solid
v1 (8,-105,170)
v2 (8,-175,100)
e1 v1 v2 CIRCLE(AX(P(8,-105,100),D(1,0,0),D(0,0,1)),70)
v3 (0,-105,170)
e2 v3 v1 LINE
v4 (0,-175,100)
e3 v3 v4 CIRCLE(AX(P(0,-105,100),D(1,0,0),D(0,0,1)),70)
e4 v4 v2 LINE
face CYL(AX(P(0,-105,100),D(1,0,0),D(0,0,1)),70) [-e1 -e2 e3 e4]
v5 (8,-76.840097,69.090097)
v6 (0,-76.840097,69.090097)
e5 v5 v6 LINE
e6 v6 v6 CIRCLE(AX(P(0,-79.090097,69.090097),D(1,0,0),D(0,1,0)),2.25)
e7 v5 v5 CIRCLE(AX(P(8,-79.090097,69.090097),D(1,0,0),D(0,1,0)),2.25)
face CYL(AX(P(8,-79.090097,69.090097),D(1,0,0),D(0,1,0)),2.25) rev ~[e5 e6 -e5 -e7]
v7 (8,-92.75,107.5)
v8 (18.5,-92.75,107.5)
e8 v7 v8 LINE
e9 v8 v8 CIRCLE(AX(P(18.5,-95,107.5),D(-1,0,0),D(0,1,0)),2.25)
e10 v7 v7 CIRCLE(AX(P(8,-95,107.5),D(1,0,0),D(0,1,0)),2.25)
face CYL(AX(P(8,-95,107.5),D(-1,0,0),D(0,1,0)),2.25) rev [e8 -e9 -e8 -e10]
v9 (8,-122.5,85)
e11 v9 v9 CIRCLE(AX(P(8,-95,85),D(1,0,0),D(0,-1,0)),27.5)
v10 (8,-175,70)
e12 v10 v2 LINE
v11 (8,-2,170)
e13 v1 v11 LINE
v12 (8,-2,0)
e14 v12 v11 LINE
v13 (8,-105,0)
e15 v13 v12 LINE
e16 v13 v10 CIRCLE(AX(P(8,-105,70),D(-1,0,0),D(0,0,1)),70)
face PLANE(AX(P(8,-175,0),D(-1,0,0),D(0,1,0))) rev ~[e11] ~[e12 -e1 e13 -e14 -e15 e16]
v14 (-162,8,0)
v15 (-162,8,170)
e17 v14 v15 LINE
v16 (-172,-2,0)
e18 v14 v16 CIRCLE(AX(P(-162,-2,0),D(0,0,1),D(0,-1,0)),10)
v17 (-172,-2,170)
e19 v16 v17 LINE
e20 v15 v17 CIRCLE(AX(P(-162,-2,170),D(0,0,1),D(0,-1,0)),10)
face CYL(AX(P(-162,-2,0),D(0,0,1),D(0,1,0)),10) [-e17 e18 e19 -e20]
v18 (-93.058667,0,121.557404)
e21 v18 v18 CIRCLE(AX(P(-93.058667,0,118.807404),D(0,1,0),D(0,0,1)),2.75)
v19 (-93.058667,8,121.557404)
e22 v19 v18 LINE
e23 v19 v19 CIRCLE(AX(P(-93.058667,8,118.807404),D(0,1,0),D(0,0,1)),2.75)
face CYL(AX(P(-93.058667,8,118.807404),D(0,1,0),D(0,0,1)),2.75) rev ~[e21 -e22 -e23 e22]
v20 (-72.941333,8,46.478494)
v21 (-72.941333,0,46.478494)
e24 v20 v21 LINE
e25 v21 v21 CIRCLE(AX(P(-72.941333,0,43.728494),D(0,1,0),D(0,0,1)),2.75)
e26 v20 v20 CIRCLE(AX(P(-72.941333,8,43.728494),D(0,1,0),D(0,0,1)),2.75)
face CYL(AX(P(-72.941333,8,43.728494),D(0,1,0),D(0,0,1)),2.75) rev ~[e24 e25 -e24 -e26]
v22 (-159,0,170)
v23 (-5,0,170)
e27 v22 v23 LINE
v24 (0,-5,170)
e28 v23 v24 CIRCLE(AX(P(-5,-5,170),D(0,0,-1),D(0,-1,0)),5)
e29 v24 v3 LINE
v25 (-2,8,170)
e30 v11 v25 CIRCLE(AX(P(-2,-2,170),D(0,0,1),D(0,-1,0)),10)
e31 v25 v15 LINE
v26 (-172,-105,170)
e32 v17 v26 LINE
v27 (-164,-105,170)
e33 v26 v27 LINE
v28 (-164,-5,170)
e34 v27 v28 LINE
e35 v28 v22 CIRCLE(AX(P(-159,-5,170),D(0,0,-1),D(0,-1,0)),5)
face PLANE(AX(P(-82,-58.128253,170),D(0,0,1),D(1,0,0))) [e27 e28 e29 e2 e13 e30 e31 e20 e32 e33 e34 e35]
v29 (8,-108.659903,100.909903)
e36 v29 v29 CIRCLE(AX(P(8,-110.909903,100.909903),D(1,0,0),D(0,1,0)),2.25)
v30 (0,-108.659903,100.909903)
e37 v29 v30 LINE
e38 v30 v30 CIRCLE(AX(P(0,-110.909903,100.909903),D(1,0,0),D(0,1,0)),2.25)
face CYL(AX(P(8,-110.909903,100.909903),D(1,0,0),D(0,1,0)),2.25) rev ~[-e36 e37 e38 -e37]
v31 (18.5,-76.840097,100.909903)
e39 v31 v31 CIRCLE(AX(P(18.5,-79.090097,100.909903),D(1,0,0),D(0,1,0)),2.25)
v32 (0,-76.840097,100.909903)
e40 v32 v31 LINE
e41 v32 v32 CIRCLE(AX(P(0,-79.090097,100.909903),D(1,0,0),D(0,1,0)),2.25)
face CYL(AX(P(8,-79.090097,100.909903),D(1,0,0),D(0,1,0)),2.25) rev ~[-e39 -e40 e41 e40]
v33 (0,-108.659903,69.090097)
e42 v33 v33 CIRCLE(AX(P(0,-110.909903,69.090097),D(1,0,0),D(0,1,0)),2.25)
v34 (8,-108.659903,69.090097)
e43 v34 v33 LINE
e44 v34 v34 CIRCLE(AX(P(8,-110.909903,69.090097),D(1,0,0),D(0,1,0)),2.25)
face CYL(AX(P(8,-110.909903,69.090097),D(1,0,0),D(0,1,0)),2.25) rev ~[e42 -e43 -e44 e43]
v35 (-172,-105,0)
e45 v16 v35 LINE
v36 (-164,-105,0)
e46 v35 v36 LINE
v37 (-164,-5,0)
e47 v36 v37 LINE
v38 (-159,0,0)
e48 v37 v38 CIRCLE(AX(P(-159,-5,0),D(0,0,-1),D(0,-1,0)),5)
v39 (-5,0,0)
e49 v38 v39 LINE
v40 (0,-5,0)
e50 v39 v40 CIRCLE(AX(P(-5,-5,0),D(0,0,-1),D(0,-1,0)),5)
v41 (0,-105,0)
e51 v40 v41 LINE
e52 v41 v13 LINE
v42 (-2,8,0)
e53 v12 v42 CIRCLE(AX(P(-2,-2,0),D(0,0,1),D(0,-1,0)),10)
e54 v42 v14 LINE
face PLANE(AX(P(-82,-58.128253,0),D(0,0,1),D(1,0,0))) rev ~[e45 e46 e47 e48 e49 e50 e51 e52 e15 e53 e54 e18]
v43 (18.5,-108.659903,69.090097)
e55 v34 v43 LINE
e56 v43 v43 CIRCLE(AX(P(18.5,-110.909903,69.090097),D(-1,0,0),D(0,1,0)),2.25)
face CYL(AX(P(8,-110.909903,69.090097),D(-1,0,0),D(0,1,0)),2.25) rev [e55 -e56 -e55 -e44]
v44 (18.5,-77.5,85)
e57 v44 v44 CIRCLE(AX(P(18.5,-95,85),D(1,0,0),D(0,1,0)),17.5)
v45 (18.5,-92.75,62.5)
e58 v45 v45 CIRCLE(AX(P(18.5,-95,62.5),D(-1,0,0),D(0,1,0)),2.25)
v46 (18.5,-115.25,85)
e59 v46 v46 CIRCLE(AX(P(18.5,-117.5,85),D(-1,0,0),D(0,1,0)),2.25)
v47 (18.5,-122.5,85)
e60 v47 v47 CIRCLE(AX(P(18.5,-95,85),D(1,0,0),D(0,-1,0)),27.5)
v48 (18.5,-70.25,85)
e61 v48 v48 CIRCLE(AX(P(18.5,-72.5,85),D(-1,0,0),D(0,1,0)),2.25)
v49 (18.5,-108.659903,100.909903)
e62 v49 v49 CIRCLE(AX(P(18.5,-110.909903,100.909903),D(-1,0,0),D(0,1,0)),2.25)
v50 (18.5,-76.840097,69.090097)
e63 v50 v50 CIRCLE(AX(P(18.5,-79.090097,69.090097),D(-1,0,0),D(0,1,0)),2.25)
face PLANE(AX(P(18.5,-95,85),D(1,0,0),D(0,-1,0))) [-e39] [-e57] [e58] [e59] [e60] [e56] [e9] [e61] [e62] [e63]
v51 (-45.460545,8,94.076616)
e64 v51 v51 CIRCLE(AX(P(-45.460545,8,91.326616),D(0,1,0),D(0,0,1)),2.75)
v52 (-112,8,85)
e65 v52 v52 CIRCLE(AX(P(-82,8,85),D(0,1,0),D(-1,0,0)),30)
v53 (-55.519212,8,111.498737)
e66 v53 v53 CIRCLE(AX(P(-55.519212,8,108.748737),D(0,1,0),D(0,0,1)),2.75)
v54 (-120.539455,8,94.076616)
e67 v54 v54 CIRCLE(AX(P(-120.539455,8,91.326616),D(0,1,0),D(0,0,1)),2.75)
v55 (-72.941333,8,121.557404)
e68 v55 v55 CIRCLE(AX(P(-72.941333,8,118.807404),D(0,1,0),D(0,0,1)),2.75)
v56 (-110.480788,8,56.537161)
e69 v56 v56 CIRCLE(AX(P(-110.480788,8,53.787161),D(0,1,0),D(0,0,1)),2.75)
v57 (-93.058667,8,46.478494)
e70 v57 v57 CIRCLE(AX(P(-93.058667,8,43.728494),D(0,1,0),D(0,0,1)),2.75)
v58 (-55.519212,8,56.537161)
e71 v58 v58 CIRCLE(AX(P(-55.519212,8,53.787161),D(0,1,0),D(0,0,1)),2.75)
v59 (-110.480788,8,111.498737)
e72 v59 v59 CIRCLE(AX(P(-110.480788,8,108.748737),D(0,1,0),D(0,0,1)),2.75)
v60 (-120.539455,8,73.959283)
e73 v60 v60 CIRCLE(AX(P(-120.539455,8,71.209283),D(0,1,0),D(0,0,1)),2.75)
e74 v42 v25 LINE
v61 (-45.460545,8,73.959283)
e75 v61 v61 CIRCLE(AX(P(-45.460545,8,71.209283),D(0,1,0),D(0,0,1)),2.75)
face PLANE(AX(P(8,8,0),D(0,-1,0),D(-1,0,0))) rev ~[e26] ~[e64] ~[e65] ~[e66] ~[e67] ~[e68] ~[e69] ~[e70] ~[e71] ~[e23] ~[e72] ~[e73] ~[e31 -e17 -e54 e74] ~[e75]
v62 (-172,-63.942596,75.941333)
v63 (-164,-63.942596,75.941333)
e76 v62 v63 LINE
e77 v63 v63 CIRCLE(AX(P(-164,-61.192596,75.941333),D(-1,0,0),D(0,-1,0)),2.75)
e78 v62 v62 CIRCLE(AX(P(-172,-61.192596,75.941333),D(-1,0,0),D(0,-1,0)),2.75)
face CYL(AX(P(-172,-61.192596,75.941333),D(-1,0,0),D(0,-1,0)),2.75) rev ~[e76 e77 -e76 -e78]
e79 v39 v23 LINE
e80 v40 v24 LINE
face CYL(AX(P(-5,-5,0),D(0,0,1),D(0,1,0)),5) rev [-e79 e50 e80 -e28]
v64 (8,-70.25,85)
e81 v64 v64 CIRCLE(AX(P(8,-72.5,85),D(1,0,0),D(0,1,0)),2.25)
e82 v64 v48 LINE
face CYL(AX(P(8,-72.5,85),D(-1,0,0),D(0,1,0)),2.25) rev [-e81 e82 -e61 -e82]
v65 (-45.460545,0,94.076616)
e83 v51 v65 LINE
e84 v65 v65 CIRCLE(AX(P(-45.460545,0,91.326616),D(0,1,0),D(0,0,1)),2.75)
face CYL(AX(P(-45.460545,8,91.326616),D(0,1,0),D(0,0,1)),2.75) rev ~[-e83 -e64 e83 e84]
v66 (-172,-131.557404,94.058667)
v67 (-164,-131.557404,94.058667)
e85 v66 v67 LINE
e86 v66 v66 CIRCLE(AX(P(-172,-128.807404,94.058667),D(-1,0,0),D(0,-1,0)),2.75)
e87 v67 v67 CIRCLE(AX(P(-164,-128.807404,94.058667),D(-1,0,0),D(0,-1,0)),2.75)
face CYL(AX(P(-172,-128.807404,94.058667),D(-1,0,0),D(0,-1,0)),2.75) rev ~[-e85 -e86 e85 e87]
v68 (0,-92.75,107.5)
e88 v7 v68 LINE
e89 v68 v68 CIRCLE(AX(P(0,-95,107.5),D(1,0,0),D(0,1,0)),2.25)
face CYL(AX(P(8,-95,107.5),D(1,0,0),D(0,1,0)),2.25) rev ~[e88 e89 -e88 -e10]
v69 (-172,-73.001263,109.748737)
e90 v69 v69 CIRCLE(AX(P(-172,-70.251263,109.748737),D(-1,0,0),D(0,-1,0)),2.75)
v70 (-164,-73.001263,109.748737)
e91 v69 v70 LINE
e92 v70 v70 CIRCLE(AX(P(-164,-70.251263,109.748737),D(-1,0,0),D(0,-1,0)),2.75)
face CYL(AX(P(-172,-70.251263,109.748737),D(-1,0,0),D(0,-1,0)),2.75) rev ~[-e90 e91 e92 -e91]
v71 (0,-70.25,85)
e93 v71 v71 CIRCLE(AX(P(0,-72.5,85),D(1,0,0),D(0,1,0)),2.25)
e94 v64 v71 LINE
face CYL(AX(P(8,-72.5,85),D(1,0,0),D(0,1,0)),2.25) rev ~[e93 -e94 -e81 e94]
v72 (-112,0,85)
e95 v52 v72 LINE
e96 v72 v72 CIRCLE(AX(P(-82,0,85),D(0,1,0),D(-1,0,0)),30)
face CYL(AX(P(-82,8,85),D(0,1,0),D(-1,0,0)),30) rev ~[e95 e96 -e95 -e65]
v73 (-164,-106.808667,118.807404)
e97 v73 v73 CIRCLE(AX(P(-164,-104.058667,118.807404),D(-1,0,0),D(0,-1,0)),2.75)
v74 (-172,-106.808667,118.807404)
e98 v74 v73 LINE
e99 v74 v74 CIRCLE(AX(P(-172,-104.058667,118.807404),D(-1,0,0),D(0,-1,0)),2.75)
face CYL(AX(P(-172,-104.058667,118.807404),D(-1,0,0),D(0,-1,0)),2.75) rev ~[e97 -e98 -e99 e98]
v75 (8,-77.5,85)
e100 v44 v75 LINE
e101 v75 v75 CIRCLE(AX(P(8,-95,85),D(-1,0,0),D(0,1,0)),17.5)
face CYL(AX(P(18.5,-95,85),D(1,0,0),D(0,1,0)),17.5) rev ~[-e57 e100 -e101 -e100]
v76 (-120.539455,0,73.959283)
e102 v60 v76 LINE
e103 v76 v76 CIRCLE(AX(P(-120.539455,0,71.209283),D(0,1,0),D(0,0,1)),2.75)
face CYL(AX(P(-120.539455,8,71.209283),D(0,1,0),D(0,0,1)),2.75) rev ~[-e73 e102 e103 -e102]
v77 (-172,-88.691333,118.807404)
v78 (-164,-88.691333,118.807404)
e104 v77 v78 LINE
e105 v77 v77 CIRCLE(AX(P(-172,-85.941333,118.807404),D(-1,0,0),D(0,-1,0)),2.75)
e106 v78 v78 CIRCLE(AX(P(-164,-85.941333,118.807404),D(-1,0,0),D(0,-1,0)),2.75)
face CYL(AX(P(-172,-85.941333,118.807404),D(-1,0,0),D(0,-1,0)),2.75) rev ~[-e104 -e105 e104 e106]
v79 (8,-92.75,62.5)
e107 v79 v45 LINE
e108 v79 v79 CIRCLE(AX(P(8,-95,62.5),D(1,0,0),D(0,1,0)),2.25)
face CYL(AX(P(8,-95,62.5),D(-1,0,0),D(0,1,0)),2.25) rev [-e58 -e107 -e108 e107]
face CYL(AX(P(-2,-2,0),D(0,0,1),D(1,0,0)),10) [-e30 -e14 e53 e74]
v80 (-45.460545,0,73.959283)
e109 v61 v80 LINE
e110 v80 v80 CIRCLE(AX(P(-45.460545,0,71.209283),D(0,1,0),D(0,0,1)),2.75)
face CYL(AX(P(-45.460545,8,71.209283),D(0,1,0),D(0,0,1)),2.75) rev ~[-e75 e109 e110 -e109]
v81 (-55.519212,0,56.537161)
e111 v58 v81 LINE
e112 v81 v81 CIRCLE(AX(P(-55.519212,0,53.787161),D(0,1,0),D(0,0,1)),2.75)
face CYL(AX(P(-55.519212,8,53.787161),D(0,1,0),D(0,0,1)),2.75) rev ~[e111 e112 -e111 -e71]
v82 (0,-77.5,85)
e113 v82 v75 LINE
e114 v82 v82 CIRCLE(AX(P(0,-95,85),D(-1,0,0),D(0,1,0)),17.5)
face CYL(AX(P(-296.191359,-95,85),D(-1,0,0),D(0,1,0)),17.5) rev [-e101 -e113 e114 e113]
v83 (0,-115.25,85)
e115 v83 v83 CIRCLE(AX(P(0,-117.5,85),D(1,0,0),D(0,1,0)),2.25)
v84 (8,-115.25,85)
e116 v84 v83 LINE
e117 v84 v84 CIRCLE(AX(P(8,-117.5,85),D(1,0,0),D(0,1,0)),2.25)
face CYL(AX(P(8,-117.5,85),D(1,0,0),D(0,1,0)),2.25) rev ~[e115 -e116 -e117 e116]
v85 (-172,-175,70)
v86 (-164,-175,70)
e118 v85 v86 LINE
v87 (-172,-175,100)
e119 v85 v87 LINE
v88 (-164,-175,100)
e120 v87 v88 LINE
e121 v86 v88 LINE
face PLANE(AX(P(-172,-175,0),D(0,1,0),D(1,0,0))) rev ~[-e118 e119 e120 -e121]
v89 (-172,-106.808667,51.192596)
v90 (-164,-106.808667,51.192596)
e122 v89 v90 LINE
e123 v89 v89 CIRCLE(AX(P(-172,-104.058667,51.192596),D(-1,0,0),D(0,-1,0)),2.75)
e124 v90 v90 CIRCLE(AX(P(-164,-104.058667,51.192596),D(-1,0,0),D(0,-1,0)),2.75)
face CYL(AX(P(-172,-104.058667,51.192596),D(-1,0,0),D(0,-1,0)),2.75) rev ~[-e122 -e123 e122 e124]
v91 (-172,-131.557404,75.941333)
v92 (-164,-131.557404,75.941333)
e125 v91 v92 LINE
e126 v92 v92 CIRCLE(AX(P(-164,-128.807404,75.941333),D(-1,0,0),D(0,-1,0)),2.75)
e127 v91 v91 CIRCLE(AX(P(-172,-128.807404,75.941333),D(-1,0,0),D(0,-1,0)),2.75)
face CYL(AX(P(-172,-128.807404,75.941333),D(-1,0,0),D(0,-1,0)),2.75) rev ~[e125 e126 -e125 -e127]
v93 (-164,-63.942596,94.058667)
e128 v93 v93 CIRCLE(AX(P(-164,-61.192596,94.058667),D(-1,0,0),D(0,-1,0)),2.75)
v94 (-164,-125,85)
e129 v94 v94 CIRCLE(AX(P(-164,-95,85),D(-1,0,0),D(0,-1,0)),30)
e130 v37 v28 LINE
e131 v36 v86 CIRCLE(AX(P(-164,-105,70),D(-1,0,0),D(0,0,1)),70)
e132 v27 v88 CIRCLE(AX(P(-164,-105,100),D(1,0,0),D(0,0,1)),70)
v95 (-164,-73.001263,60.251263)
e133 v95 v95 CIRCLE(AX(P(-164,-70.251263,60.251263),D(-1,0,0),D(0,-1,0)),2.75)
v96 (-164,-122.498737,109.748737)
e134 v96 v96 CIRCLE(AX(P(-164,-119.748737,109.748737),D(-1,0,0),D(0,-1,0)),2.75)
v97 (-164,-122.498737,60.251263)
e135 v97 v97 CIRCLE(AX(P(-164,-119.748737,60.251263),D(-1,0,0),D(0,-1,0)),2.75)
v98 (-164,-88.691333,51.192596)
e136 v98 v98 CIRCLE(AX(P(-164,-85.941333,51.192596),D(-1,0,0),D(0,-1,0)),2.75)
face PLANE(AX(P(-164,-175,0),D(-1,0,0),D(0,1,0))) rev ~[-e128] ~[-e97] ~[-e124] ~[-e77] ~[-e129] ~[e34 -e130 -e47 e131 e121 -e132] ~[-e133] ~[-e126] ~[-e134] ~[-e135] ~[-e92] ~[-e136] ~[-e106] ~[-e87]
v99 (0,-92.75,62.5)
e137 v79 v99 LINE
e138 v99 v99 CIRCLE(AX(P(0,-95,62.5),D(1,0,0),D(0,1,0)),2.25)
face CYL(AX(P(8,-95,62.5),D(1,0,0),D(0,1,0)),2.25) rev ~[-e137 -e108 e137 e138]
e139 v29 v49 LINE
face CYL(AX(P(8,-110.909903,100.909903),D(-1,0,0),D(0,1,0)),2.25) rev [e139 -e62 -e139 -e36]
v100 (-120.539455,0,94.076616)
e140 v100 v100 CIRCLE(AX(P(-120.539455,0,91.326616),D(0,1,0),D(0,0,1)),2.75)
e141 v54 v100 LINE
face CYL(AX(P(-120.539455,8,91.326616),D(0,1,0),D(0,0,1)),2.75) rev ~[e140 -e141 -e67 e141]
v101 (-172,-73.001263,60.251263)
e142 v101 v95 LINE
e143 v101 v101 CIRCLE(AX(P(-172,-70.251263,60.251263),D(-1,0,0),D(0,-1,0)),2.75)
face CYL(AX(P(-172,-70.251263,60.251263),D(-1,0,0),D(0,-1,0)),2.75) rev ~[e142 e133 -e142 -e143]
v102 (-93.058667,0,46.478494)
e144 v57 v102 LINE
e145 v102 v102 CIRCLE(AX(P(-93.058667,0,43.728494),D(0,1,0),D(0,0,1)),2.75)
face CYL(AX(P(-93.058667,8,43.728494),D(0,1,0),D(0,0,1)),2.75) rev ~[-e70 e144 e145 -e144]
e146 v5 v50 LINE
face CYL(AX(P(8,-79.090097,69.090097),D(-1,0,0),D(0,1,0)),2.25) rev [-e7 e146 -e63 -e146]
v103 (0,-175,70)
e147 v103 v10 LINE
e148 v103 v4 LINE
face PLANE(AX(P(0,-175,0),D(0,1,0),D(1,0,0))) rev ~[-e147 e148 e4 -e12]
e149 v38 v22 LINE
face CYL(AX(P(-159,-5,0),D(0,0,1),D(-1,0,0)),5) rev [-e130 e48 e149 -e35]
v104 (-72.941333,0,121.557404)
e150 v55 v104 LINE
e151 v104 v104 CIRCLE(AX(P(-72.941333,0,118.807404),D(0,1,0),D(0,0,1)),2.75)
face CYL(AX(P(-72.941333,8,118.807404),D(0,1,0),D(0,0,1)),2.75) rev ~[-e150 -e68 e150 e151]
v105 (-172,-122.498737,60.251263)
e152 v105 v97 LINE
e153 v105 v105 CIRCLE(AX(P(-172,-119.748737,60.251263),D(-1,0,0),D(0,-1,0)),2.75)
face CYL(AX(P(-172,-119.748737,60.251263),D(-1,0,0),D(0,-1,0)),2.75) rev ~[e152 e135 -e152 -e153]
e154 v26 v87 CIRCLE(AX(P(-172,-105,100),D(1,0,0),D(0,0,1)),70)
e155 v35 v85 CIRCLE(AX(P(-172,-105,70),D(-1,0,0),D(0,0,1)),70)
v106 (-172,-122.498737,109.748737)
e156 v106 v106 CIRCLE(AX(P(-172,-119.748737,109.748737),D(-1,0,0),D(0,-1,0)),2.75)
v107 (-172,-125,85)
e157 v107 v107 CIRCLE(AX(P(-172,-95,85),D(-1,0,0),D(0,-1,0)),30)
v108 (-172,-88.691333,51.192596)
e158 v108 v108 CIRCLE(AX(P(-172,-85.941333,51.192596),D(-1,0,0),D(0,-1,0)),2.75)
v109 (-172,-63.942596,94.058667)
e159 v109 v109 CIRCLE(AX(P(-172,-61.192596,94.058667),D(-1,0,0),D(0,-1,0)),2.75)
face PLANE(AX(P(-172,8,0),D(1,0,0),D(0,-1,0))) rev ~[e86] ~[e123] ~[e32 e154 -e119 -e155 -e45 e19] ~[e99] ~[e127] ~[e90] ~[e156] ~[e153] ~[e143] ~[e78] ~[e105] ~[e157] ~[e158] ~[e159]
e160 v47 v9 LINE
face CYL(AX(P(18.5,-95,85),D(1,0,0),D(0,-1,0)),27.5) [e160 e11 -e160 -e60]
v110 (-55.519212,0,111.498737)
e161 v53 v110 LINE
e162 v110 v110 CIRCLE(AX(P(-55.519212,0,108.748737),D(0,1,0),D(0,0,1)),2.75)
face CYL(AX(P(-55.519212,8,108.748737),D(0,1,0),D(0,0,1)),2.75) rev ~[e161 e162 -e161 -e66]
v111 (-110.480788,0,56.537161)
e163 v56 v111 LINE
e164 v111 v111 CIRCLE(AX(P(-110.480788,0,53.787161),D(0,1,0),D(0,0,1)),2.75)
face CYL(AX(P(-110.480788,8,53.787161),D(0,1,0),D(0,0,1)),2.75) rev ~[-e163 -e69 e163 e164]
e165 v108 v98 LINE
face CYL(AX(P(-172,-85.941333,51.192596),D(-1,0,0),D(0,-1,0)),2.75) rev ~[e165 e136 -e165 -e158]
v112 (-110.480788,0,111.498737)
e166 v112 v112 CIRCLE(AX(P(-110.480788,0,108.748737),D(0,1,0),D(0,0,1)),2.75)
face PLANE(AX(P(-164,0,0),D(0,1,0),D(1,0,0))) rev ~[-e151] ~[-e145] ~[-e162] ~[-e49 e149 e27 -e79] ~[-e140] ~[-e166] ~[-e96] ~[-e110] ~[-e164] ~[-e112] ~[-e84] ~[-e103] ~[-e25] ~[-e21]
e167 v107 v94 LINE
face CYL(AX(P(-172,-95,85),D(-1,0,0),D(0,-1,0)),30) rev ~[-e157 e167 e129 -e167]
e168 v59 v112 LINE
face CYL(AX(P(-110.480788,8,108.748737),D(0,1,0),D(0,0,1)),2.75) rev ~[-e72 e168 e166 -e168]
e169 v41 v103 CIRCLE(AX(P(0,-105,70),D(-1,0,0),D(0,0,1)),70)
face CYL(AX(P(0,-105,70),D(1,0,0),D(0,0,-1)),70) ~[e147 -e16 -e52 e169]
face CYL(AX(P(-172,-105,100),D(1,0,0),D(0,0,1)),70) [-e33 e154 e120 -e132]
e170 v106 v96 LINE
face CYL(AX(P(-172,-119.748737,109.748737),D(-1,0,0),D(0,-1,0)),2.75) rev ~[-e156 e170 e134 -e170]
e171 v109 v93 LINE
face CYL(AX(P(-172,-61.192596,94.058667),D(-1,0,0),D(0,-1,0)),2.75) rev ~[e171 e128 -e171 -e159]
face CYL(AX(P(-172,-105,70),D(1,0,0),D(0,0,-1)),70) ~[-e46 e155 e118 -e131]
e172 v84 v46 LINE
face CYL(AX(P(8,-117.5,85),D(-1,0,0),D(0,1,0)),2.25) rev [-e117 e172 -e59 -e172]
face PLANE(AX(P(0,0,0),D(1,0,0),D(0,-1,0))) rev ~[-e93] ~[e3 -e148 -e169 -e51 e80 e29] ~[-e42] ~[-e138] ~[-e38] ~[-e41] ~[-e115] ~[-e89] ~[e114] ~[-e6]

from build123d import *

# Parameters (mm, degrees)
EXTRUDE_1_DEPTH          = 170
SKETCH_2_R               = 30
CUT_EXTRUDE_1_DEPTH      = 180
CUT_EXTRUDE_2_DEPTH      = 304.191358716
CUT_EXTRUDE_2_DEPTH_BACK = 304.191358716
SKETCH_3_R               = 17.5
FILLET_1_R               = 70
FILLET_2_R               = 5
FILLET_3_R               = 10
SKETCH_6_R               = 30
CUT_EXTRUDE_6_DEPTH      = 39
SKETCH_12_R              = 2.75
CUT_EXTRUDE_12_DEPTH     = 10
EXTRUDE_START            = 10.5
SKETCH_14_R              = 27.5
SKETCH_14_R_2            = 17.5
EXTRUDE_2_DEPTH          = 10.5
SKETCH_13_R              = 2.25
CUT_EXTRUDE_13_DEPTH     = 15
SKETCH_15_R              = 2.75
CUT_EXTRUDE_14_DEPTH     = 10


with BuildPart() as part:
    # 草图1 → 凸台-拉伸1 (new body)
    with BuildSketch(Plane.XY):
        Polygon((-164, 0), (0, 0), (0, -175), (8, -175), (8, 8), (-164, 8), (-172, 8), (-172, -175), (-164, -175), align=None)
    extrude(amount=EXTRUDE_1_DEPTH)

    # 草图2 → 切除-拉伸1 (cut)
    with BuildSketch(Plane(origin=(0, 8, 0), x_dir=(1, 0, 0), z_dir=(0, 1, 0))):
        with Locations(Location((-82, -85, 0), (0, 0, 180))):
            Circle(SKETCH_2_R)
    extrude(amount=-CUT_EXTRUDE_1_DEPTH, mode=Mode.SUBTRACT)

    # 草图3 → 切除-拉伸2 (cut, two sides: drawn at the far end of the back side and taken through both)
    with BuildSketch(Plane(origin=(8, 0, 0), x_dir=(0, 0, -1), z_dir=(1, 0, 0)).offset(-CUT_EXTRUDE_2_DEPTH_BACK)):
        with Locations(Location((-85, -95, 0), (0, 0, 90))):
            Circle(SKETCH_3_R)
    extrude(amount=CUT_EXTRUDE_2_DEPTH + CUT_EXTRUDE_2_DEPTH_BACK, mode=Mode.SUBTRACT)

    # 圆角1
    fillet_1_edges = [part.edges().sort_by_distance(p)[0] for p in [
        (4, -175, 0),
        (4, -175, 170),
        (-168, -175, 170),
        (-168, -175, 0),
    ]]
    fillet(fillet_1_edges, radius=FILLET_1_R)

    # 圆角2
    fillet_2_edges = [part.edges().sort_by_distance(p)[0] for p in [
        (0, 0, 85),
        (-164, 0, 85),
    ]]
    fillet(fillet_2_edges, radius=FILLET_2_R)

    # 圆角3
    fillet_3_edges = [part.edges().sort_by_distance(p)[0] for p in [
        (-172, 8, 85),
        (8, 8, 85),
    ]]
    fillet(fillet_3_edges, radius=FILLET_3_R)

    # 草图6 → 切除-拉伸6 (cut)
    with BuildSketch(Plane.ZY.offset(172)):
        with Locations(Location((85, -95, 0), (0, 0, 270))):
            Circle(SKETCH_6_R)
    extrude(amount=-CUT_EXTRUDE_6_DEPTH, mode=Mode.SUBTRACT)

    # 草图12 → 切除-拉伸12 (cut)
    with BuildSketch(Plane.ZY.offset(172)):
        with Locations(Location((94.058666579, -128.80740392, 0), (0, 0, 270))):
            Circle(SKETCH_12_R)
        with Locations(Location((75.941333421, -128.80740392, 0), (0, 0, 270))):
            Circle(SKETCH_12_R)
        with Locations(Location((60.251262658, -119.748737342, 0), (0, 0, 270))):
            Circle(SKETCH_12_R)
        with Locations(Location((51.19259608, -104.058666579, 0), (0, 0, 270))):
            Circle(SKETCH_12_R)
        with Locations(Location((51.19259608, -85.941333421, 0), (0, 0, 270))):
            Circle(SKETCH_12_R)
        with Locations(Location((60.251262658, -70.251262658, 0), (0, 0, 270))):
            Circle(SKETCH_12_R)
        with Locations(Location((75.941333421, -61.19259608, 0), (0, 0, 270))):
            Circle(SKETCH_12_R)
        with Locations(Location((94.058666579, -61.19259608, 0), (0, 0, 270))):
            Circle(SKETCH_12_R)
        with Locations(Location((109.748737342, -70.251262658, 0), (0, 0, 270))):
            Circle(SKETCH_12_R)
        with Locations(Location((118.80740392, -85.941333421, 0), (0, 0, 270))):
            Circle(SKETCH_12_R)
        with Locations(Location((118.80740392, -104.058666579, 0), (0, 0, 270))):
            Circle(SKETCH_12_R)
        with Locations(Location((109.748737342, -119.748737342, 0), (0, 0, 270))):
            Circle(SKETCH_12_R)
    extrude(amount=-CUT_EXTRUDE_12_DEPTH, mode=Mode.SUBTRACT)

    # 草图14 → 凸台-拉伸2 (add)
    with BuildSketch(Plane(origin=(8, 0, 0), x_dir=(0, 0, -1), z_dir=(1, 0, 0)).offset(EXTRUDE_START)):
        with Locations(Location((-85, -95, 0), (0, 0, 270))):
            Circle(SKETCH_14_R)
        with Locations(Location((-85, -95, 0), (0, 0, 90))):
            Circle(SKETCH_14_R_2, mode=Mode.SUBTRACT)
    extrude(amount=-EXTRUDE_2_DEPTH)

    # 草图13 → 切除-拉伸13 (cut, symmetric)
    with BuildSketch(Plane(origin=(8, 0, 0), x_dir=(0, 0, -1), z_dir=(1, 0, 0))):
        with Locations(Location((-85, -72.5, 0), (0, 0, 90))):
            Circle(SKETCH_13_R)
        with Locations(Location((-69.090097423, -79.090097423, 0), (0, 0, 90))):
            Circle(SKETCH_13_R)
        with Locations(Location((-62.5, -95, 0), (0, 0, 90))):
            Circle(SKETCH_13_R)
        with Locations(Location((-69.090097423, -110.909902577, 0), (0, 0, 90))):
            Circle(SKETCH_13_R)
        with Locations(Location((-85, -117.5, 0), (0, 0, 90))):
            Circle(SKETCH_13_R)
        with Locations(Location((-100.909902577, -110.909902577, 0), (0, 0, 90))):
            Circle(SKETCH_13_R)
        with Locations(Location((-107.5, -95, 0), (0, 0, 90))):
            Circle(SKETCH_13_R)
        with Locations(Location((-100.909902577, -79.090097423, 0), (0, 0, 90))):
            Circle(SKETCH_13_R)
    extrude(amount=CUT_EXTRUDE_13_DEPTH, both=True, mode=Mode.SUBTRACT)

    # 草图15 → 切除-拉伸14 (cut)
    with BuildSketch(Plane(origin=(0, 8, 0), x_dir=(1, 0, 0), z_dir=(0, 1, 0))):
        with Locations(Location((-72.941333421, -118.80740392, 0), (0, 0, 270))):
            Circle(SKETCH_15_R)
        with Locations(Location((-93.058666579, -118.80740392, 0), (0, 0, 270))):
            Circle(SKETCH_15_R)
        with Locations(Location((-110.480788149, -108.748737342, 0), (0, 0, 270))):
            Circle(SKETCH_15_R)
        with Locations(Location((-120.539454728, -91.326615771, 0), (0, 0, 270))):
            Circle(SKETCH_15_R)
        with Locations(Location((-120.539454728, -71.209282614, 0), (0, 0, 270))):
            Circle(SKETCH_15_R)
        with Locations(Location((-110.480788149, -53.787161043, 0), (0, 0, 270))):
            Circle(SKETCH_15_R)
        with Locations(Location((-93.058666579, -43.728494465, 0), (0, 0, 270))):
            Circle(SKETCH_15_R)
        with Locations(Location((-72.941333421, -43.728494465, 0), (0, 0, 270))):
            Circle(SKETCH_15_R)
        with Locations(Location((-55.519211851, -53.787161043, 0), (0, 0, 270))):
            Circle(SKETCH_15_R)
        with Locations(Location((-45.460545272, -71.209282614, 0), (0, 0, 270))):
            Circle(SKETCH_15_R)
        with Locations(Location((-45.460545272, -91.326615771, 0), (0, 0, 270))):
            Circle(SKETCH_15_R)
        with Locations(Location((-55.519211851, -108.748737342, 0), (0, 0, 270))):
            Circle(SKETCH_15_R)
    extrude(amount=-CUT_EXTRUDE_14_DEPTH, mode=Mode.SUBTRACT)


solid = part.part
